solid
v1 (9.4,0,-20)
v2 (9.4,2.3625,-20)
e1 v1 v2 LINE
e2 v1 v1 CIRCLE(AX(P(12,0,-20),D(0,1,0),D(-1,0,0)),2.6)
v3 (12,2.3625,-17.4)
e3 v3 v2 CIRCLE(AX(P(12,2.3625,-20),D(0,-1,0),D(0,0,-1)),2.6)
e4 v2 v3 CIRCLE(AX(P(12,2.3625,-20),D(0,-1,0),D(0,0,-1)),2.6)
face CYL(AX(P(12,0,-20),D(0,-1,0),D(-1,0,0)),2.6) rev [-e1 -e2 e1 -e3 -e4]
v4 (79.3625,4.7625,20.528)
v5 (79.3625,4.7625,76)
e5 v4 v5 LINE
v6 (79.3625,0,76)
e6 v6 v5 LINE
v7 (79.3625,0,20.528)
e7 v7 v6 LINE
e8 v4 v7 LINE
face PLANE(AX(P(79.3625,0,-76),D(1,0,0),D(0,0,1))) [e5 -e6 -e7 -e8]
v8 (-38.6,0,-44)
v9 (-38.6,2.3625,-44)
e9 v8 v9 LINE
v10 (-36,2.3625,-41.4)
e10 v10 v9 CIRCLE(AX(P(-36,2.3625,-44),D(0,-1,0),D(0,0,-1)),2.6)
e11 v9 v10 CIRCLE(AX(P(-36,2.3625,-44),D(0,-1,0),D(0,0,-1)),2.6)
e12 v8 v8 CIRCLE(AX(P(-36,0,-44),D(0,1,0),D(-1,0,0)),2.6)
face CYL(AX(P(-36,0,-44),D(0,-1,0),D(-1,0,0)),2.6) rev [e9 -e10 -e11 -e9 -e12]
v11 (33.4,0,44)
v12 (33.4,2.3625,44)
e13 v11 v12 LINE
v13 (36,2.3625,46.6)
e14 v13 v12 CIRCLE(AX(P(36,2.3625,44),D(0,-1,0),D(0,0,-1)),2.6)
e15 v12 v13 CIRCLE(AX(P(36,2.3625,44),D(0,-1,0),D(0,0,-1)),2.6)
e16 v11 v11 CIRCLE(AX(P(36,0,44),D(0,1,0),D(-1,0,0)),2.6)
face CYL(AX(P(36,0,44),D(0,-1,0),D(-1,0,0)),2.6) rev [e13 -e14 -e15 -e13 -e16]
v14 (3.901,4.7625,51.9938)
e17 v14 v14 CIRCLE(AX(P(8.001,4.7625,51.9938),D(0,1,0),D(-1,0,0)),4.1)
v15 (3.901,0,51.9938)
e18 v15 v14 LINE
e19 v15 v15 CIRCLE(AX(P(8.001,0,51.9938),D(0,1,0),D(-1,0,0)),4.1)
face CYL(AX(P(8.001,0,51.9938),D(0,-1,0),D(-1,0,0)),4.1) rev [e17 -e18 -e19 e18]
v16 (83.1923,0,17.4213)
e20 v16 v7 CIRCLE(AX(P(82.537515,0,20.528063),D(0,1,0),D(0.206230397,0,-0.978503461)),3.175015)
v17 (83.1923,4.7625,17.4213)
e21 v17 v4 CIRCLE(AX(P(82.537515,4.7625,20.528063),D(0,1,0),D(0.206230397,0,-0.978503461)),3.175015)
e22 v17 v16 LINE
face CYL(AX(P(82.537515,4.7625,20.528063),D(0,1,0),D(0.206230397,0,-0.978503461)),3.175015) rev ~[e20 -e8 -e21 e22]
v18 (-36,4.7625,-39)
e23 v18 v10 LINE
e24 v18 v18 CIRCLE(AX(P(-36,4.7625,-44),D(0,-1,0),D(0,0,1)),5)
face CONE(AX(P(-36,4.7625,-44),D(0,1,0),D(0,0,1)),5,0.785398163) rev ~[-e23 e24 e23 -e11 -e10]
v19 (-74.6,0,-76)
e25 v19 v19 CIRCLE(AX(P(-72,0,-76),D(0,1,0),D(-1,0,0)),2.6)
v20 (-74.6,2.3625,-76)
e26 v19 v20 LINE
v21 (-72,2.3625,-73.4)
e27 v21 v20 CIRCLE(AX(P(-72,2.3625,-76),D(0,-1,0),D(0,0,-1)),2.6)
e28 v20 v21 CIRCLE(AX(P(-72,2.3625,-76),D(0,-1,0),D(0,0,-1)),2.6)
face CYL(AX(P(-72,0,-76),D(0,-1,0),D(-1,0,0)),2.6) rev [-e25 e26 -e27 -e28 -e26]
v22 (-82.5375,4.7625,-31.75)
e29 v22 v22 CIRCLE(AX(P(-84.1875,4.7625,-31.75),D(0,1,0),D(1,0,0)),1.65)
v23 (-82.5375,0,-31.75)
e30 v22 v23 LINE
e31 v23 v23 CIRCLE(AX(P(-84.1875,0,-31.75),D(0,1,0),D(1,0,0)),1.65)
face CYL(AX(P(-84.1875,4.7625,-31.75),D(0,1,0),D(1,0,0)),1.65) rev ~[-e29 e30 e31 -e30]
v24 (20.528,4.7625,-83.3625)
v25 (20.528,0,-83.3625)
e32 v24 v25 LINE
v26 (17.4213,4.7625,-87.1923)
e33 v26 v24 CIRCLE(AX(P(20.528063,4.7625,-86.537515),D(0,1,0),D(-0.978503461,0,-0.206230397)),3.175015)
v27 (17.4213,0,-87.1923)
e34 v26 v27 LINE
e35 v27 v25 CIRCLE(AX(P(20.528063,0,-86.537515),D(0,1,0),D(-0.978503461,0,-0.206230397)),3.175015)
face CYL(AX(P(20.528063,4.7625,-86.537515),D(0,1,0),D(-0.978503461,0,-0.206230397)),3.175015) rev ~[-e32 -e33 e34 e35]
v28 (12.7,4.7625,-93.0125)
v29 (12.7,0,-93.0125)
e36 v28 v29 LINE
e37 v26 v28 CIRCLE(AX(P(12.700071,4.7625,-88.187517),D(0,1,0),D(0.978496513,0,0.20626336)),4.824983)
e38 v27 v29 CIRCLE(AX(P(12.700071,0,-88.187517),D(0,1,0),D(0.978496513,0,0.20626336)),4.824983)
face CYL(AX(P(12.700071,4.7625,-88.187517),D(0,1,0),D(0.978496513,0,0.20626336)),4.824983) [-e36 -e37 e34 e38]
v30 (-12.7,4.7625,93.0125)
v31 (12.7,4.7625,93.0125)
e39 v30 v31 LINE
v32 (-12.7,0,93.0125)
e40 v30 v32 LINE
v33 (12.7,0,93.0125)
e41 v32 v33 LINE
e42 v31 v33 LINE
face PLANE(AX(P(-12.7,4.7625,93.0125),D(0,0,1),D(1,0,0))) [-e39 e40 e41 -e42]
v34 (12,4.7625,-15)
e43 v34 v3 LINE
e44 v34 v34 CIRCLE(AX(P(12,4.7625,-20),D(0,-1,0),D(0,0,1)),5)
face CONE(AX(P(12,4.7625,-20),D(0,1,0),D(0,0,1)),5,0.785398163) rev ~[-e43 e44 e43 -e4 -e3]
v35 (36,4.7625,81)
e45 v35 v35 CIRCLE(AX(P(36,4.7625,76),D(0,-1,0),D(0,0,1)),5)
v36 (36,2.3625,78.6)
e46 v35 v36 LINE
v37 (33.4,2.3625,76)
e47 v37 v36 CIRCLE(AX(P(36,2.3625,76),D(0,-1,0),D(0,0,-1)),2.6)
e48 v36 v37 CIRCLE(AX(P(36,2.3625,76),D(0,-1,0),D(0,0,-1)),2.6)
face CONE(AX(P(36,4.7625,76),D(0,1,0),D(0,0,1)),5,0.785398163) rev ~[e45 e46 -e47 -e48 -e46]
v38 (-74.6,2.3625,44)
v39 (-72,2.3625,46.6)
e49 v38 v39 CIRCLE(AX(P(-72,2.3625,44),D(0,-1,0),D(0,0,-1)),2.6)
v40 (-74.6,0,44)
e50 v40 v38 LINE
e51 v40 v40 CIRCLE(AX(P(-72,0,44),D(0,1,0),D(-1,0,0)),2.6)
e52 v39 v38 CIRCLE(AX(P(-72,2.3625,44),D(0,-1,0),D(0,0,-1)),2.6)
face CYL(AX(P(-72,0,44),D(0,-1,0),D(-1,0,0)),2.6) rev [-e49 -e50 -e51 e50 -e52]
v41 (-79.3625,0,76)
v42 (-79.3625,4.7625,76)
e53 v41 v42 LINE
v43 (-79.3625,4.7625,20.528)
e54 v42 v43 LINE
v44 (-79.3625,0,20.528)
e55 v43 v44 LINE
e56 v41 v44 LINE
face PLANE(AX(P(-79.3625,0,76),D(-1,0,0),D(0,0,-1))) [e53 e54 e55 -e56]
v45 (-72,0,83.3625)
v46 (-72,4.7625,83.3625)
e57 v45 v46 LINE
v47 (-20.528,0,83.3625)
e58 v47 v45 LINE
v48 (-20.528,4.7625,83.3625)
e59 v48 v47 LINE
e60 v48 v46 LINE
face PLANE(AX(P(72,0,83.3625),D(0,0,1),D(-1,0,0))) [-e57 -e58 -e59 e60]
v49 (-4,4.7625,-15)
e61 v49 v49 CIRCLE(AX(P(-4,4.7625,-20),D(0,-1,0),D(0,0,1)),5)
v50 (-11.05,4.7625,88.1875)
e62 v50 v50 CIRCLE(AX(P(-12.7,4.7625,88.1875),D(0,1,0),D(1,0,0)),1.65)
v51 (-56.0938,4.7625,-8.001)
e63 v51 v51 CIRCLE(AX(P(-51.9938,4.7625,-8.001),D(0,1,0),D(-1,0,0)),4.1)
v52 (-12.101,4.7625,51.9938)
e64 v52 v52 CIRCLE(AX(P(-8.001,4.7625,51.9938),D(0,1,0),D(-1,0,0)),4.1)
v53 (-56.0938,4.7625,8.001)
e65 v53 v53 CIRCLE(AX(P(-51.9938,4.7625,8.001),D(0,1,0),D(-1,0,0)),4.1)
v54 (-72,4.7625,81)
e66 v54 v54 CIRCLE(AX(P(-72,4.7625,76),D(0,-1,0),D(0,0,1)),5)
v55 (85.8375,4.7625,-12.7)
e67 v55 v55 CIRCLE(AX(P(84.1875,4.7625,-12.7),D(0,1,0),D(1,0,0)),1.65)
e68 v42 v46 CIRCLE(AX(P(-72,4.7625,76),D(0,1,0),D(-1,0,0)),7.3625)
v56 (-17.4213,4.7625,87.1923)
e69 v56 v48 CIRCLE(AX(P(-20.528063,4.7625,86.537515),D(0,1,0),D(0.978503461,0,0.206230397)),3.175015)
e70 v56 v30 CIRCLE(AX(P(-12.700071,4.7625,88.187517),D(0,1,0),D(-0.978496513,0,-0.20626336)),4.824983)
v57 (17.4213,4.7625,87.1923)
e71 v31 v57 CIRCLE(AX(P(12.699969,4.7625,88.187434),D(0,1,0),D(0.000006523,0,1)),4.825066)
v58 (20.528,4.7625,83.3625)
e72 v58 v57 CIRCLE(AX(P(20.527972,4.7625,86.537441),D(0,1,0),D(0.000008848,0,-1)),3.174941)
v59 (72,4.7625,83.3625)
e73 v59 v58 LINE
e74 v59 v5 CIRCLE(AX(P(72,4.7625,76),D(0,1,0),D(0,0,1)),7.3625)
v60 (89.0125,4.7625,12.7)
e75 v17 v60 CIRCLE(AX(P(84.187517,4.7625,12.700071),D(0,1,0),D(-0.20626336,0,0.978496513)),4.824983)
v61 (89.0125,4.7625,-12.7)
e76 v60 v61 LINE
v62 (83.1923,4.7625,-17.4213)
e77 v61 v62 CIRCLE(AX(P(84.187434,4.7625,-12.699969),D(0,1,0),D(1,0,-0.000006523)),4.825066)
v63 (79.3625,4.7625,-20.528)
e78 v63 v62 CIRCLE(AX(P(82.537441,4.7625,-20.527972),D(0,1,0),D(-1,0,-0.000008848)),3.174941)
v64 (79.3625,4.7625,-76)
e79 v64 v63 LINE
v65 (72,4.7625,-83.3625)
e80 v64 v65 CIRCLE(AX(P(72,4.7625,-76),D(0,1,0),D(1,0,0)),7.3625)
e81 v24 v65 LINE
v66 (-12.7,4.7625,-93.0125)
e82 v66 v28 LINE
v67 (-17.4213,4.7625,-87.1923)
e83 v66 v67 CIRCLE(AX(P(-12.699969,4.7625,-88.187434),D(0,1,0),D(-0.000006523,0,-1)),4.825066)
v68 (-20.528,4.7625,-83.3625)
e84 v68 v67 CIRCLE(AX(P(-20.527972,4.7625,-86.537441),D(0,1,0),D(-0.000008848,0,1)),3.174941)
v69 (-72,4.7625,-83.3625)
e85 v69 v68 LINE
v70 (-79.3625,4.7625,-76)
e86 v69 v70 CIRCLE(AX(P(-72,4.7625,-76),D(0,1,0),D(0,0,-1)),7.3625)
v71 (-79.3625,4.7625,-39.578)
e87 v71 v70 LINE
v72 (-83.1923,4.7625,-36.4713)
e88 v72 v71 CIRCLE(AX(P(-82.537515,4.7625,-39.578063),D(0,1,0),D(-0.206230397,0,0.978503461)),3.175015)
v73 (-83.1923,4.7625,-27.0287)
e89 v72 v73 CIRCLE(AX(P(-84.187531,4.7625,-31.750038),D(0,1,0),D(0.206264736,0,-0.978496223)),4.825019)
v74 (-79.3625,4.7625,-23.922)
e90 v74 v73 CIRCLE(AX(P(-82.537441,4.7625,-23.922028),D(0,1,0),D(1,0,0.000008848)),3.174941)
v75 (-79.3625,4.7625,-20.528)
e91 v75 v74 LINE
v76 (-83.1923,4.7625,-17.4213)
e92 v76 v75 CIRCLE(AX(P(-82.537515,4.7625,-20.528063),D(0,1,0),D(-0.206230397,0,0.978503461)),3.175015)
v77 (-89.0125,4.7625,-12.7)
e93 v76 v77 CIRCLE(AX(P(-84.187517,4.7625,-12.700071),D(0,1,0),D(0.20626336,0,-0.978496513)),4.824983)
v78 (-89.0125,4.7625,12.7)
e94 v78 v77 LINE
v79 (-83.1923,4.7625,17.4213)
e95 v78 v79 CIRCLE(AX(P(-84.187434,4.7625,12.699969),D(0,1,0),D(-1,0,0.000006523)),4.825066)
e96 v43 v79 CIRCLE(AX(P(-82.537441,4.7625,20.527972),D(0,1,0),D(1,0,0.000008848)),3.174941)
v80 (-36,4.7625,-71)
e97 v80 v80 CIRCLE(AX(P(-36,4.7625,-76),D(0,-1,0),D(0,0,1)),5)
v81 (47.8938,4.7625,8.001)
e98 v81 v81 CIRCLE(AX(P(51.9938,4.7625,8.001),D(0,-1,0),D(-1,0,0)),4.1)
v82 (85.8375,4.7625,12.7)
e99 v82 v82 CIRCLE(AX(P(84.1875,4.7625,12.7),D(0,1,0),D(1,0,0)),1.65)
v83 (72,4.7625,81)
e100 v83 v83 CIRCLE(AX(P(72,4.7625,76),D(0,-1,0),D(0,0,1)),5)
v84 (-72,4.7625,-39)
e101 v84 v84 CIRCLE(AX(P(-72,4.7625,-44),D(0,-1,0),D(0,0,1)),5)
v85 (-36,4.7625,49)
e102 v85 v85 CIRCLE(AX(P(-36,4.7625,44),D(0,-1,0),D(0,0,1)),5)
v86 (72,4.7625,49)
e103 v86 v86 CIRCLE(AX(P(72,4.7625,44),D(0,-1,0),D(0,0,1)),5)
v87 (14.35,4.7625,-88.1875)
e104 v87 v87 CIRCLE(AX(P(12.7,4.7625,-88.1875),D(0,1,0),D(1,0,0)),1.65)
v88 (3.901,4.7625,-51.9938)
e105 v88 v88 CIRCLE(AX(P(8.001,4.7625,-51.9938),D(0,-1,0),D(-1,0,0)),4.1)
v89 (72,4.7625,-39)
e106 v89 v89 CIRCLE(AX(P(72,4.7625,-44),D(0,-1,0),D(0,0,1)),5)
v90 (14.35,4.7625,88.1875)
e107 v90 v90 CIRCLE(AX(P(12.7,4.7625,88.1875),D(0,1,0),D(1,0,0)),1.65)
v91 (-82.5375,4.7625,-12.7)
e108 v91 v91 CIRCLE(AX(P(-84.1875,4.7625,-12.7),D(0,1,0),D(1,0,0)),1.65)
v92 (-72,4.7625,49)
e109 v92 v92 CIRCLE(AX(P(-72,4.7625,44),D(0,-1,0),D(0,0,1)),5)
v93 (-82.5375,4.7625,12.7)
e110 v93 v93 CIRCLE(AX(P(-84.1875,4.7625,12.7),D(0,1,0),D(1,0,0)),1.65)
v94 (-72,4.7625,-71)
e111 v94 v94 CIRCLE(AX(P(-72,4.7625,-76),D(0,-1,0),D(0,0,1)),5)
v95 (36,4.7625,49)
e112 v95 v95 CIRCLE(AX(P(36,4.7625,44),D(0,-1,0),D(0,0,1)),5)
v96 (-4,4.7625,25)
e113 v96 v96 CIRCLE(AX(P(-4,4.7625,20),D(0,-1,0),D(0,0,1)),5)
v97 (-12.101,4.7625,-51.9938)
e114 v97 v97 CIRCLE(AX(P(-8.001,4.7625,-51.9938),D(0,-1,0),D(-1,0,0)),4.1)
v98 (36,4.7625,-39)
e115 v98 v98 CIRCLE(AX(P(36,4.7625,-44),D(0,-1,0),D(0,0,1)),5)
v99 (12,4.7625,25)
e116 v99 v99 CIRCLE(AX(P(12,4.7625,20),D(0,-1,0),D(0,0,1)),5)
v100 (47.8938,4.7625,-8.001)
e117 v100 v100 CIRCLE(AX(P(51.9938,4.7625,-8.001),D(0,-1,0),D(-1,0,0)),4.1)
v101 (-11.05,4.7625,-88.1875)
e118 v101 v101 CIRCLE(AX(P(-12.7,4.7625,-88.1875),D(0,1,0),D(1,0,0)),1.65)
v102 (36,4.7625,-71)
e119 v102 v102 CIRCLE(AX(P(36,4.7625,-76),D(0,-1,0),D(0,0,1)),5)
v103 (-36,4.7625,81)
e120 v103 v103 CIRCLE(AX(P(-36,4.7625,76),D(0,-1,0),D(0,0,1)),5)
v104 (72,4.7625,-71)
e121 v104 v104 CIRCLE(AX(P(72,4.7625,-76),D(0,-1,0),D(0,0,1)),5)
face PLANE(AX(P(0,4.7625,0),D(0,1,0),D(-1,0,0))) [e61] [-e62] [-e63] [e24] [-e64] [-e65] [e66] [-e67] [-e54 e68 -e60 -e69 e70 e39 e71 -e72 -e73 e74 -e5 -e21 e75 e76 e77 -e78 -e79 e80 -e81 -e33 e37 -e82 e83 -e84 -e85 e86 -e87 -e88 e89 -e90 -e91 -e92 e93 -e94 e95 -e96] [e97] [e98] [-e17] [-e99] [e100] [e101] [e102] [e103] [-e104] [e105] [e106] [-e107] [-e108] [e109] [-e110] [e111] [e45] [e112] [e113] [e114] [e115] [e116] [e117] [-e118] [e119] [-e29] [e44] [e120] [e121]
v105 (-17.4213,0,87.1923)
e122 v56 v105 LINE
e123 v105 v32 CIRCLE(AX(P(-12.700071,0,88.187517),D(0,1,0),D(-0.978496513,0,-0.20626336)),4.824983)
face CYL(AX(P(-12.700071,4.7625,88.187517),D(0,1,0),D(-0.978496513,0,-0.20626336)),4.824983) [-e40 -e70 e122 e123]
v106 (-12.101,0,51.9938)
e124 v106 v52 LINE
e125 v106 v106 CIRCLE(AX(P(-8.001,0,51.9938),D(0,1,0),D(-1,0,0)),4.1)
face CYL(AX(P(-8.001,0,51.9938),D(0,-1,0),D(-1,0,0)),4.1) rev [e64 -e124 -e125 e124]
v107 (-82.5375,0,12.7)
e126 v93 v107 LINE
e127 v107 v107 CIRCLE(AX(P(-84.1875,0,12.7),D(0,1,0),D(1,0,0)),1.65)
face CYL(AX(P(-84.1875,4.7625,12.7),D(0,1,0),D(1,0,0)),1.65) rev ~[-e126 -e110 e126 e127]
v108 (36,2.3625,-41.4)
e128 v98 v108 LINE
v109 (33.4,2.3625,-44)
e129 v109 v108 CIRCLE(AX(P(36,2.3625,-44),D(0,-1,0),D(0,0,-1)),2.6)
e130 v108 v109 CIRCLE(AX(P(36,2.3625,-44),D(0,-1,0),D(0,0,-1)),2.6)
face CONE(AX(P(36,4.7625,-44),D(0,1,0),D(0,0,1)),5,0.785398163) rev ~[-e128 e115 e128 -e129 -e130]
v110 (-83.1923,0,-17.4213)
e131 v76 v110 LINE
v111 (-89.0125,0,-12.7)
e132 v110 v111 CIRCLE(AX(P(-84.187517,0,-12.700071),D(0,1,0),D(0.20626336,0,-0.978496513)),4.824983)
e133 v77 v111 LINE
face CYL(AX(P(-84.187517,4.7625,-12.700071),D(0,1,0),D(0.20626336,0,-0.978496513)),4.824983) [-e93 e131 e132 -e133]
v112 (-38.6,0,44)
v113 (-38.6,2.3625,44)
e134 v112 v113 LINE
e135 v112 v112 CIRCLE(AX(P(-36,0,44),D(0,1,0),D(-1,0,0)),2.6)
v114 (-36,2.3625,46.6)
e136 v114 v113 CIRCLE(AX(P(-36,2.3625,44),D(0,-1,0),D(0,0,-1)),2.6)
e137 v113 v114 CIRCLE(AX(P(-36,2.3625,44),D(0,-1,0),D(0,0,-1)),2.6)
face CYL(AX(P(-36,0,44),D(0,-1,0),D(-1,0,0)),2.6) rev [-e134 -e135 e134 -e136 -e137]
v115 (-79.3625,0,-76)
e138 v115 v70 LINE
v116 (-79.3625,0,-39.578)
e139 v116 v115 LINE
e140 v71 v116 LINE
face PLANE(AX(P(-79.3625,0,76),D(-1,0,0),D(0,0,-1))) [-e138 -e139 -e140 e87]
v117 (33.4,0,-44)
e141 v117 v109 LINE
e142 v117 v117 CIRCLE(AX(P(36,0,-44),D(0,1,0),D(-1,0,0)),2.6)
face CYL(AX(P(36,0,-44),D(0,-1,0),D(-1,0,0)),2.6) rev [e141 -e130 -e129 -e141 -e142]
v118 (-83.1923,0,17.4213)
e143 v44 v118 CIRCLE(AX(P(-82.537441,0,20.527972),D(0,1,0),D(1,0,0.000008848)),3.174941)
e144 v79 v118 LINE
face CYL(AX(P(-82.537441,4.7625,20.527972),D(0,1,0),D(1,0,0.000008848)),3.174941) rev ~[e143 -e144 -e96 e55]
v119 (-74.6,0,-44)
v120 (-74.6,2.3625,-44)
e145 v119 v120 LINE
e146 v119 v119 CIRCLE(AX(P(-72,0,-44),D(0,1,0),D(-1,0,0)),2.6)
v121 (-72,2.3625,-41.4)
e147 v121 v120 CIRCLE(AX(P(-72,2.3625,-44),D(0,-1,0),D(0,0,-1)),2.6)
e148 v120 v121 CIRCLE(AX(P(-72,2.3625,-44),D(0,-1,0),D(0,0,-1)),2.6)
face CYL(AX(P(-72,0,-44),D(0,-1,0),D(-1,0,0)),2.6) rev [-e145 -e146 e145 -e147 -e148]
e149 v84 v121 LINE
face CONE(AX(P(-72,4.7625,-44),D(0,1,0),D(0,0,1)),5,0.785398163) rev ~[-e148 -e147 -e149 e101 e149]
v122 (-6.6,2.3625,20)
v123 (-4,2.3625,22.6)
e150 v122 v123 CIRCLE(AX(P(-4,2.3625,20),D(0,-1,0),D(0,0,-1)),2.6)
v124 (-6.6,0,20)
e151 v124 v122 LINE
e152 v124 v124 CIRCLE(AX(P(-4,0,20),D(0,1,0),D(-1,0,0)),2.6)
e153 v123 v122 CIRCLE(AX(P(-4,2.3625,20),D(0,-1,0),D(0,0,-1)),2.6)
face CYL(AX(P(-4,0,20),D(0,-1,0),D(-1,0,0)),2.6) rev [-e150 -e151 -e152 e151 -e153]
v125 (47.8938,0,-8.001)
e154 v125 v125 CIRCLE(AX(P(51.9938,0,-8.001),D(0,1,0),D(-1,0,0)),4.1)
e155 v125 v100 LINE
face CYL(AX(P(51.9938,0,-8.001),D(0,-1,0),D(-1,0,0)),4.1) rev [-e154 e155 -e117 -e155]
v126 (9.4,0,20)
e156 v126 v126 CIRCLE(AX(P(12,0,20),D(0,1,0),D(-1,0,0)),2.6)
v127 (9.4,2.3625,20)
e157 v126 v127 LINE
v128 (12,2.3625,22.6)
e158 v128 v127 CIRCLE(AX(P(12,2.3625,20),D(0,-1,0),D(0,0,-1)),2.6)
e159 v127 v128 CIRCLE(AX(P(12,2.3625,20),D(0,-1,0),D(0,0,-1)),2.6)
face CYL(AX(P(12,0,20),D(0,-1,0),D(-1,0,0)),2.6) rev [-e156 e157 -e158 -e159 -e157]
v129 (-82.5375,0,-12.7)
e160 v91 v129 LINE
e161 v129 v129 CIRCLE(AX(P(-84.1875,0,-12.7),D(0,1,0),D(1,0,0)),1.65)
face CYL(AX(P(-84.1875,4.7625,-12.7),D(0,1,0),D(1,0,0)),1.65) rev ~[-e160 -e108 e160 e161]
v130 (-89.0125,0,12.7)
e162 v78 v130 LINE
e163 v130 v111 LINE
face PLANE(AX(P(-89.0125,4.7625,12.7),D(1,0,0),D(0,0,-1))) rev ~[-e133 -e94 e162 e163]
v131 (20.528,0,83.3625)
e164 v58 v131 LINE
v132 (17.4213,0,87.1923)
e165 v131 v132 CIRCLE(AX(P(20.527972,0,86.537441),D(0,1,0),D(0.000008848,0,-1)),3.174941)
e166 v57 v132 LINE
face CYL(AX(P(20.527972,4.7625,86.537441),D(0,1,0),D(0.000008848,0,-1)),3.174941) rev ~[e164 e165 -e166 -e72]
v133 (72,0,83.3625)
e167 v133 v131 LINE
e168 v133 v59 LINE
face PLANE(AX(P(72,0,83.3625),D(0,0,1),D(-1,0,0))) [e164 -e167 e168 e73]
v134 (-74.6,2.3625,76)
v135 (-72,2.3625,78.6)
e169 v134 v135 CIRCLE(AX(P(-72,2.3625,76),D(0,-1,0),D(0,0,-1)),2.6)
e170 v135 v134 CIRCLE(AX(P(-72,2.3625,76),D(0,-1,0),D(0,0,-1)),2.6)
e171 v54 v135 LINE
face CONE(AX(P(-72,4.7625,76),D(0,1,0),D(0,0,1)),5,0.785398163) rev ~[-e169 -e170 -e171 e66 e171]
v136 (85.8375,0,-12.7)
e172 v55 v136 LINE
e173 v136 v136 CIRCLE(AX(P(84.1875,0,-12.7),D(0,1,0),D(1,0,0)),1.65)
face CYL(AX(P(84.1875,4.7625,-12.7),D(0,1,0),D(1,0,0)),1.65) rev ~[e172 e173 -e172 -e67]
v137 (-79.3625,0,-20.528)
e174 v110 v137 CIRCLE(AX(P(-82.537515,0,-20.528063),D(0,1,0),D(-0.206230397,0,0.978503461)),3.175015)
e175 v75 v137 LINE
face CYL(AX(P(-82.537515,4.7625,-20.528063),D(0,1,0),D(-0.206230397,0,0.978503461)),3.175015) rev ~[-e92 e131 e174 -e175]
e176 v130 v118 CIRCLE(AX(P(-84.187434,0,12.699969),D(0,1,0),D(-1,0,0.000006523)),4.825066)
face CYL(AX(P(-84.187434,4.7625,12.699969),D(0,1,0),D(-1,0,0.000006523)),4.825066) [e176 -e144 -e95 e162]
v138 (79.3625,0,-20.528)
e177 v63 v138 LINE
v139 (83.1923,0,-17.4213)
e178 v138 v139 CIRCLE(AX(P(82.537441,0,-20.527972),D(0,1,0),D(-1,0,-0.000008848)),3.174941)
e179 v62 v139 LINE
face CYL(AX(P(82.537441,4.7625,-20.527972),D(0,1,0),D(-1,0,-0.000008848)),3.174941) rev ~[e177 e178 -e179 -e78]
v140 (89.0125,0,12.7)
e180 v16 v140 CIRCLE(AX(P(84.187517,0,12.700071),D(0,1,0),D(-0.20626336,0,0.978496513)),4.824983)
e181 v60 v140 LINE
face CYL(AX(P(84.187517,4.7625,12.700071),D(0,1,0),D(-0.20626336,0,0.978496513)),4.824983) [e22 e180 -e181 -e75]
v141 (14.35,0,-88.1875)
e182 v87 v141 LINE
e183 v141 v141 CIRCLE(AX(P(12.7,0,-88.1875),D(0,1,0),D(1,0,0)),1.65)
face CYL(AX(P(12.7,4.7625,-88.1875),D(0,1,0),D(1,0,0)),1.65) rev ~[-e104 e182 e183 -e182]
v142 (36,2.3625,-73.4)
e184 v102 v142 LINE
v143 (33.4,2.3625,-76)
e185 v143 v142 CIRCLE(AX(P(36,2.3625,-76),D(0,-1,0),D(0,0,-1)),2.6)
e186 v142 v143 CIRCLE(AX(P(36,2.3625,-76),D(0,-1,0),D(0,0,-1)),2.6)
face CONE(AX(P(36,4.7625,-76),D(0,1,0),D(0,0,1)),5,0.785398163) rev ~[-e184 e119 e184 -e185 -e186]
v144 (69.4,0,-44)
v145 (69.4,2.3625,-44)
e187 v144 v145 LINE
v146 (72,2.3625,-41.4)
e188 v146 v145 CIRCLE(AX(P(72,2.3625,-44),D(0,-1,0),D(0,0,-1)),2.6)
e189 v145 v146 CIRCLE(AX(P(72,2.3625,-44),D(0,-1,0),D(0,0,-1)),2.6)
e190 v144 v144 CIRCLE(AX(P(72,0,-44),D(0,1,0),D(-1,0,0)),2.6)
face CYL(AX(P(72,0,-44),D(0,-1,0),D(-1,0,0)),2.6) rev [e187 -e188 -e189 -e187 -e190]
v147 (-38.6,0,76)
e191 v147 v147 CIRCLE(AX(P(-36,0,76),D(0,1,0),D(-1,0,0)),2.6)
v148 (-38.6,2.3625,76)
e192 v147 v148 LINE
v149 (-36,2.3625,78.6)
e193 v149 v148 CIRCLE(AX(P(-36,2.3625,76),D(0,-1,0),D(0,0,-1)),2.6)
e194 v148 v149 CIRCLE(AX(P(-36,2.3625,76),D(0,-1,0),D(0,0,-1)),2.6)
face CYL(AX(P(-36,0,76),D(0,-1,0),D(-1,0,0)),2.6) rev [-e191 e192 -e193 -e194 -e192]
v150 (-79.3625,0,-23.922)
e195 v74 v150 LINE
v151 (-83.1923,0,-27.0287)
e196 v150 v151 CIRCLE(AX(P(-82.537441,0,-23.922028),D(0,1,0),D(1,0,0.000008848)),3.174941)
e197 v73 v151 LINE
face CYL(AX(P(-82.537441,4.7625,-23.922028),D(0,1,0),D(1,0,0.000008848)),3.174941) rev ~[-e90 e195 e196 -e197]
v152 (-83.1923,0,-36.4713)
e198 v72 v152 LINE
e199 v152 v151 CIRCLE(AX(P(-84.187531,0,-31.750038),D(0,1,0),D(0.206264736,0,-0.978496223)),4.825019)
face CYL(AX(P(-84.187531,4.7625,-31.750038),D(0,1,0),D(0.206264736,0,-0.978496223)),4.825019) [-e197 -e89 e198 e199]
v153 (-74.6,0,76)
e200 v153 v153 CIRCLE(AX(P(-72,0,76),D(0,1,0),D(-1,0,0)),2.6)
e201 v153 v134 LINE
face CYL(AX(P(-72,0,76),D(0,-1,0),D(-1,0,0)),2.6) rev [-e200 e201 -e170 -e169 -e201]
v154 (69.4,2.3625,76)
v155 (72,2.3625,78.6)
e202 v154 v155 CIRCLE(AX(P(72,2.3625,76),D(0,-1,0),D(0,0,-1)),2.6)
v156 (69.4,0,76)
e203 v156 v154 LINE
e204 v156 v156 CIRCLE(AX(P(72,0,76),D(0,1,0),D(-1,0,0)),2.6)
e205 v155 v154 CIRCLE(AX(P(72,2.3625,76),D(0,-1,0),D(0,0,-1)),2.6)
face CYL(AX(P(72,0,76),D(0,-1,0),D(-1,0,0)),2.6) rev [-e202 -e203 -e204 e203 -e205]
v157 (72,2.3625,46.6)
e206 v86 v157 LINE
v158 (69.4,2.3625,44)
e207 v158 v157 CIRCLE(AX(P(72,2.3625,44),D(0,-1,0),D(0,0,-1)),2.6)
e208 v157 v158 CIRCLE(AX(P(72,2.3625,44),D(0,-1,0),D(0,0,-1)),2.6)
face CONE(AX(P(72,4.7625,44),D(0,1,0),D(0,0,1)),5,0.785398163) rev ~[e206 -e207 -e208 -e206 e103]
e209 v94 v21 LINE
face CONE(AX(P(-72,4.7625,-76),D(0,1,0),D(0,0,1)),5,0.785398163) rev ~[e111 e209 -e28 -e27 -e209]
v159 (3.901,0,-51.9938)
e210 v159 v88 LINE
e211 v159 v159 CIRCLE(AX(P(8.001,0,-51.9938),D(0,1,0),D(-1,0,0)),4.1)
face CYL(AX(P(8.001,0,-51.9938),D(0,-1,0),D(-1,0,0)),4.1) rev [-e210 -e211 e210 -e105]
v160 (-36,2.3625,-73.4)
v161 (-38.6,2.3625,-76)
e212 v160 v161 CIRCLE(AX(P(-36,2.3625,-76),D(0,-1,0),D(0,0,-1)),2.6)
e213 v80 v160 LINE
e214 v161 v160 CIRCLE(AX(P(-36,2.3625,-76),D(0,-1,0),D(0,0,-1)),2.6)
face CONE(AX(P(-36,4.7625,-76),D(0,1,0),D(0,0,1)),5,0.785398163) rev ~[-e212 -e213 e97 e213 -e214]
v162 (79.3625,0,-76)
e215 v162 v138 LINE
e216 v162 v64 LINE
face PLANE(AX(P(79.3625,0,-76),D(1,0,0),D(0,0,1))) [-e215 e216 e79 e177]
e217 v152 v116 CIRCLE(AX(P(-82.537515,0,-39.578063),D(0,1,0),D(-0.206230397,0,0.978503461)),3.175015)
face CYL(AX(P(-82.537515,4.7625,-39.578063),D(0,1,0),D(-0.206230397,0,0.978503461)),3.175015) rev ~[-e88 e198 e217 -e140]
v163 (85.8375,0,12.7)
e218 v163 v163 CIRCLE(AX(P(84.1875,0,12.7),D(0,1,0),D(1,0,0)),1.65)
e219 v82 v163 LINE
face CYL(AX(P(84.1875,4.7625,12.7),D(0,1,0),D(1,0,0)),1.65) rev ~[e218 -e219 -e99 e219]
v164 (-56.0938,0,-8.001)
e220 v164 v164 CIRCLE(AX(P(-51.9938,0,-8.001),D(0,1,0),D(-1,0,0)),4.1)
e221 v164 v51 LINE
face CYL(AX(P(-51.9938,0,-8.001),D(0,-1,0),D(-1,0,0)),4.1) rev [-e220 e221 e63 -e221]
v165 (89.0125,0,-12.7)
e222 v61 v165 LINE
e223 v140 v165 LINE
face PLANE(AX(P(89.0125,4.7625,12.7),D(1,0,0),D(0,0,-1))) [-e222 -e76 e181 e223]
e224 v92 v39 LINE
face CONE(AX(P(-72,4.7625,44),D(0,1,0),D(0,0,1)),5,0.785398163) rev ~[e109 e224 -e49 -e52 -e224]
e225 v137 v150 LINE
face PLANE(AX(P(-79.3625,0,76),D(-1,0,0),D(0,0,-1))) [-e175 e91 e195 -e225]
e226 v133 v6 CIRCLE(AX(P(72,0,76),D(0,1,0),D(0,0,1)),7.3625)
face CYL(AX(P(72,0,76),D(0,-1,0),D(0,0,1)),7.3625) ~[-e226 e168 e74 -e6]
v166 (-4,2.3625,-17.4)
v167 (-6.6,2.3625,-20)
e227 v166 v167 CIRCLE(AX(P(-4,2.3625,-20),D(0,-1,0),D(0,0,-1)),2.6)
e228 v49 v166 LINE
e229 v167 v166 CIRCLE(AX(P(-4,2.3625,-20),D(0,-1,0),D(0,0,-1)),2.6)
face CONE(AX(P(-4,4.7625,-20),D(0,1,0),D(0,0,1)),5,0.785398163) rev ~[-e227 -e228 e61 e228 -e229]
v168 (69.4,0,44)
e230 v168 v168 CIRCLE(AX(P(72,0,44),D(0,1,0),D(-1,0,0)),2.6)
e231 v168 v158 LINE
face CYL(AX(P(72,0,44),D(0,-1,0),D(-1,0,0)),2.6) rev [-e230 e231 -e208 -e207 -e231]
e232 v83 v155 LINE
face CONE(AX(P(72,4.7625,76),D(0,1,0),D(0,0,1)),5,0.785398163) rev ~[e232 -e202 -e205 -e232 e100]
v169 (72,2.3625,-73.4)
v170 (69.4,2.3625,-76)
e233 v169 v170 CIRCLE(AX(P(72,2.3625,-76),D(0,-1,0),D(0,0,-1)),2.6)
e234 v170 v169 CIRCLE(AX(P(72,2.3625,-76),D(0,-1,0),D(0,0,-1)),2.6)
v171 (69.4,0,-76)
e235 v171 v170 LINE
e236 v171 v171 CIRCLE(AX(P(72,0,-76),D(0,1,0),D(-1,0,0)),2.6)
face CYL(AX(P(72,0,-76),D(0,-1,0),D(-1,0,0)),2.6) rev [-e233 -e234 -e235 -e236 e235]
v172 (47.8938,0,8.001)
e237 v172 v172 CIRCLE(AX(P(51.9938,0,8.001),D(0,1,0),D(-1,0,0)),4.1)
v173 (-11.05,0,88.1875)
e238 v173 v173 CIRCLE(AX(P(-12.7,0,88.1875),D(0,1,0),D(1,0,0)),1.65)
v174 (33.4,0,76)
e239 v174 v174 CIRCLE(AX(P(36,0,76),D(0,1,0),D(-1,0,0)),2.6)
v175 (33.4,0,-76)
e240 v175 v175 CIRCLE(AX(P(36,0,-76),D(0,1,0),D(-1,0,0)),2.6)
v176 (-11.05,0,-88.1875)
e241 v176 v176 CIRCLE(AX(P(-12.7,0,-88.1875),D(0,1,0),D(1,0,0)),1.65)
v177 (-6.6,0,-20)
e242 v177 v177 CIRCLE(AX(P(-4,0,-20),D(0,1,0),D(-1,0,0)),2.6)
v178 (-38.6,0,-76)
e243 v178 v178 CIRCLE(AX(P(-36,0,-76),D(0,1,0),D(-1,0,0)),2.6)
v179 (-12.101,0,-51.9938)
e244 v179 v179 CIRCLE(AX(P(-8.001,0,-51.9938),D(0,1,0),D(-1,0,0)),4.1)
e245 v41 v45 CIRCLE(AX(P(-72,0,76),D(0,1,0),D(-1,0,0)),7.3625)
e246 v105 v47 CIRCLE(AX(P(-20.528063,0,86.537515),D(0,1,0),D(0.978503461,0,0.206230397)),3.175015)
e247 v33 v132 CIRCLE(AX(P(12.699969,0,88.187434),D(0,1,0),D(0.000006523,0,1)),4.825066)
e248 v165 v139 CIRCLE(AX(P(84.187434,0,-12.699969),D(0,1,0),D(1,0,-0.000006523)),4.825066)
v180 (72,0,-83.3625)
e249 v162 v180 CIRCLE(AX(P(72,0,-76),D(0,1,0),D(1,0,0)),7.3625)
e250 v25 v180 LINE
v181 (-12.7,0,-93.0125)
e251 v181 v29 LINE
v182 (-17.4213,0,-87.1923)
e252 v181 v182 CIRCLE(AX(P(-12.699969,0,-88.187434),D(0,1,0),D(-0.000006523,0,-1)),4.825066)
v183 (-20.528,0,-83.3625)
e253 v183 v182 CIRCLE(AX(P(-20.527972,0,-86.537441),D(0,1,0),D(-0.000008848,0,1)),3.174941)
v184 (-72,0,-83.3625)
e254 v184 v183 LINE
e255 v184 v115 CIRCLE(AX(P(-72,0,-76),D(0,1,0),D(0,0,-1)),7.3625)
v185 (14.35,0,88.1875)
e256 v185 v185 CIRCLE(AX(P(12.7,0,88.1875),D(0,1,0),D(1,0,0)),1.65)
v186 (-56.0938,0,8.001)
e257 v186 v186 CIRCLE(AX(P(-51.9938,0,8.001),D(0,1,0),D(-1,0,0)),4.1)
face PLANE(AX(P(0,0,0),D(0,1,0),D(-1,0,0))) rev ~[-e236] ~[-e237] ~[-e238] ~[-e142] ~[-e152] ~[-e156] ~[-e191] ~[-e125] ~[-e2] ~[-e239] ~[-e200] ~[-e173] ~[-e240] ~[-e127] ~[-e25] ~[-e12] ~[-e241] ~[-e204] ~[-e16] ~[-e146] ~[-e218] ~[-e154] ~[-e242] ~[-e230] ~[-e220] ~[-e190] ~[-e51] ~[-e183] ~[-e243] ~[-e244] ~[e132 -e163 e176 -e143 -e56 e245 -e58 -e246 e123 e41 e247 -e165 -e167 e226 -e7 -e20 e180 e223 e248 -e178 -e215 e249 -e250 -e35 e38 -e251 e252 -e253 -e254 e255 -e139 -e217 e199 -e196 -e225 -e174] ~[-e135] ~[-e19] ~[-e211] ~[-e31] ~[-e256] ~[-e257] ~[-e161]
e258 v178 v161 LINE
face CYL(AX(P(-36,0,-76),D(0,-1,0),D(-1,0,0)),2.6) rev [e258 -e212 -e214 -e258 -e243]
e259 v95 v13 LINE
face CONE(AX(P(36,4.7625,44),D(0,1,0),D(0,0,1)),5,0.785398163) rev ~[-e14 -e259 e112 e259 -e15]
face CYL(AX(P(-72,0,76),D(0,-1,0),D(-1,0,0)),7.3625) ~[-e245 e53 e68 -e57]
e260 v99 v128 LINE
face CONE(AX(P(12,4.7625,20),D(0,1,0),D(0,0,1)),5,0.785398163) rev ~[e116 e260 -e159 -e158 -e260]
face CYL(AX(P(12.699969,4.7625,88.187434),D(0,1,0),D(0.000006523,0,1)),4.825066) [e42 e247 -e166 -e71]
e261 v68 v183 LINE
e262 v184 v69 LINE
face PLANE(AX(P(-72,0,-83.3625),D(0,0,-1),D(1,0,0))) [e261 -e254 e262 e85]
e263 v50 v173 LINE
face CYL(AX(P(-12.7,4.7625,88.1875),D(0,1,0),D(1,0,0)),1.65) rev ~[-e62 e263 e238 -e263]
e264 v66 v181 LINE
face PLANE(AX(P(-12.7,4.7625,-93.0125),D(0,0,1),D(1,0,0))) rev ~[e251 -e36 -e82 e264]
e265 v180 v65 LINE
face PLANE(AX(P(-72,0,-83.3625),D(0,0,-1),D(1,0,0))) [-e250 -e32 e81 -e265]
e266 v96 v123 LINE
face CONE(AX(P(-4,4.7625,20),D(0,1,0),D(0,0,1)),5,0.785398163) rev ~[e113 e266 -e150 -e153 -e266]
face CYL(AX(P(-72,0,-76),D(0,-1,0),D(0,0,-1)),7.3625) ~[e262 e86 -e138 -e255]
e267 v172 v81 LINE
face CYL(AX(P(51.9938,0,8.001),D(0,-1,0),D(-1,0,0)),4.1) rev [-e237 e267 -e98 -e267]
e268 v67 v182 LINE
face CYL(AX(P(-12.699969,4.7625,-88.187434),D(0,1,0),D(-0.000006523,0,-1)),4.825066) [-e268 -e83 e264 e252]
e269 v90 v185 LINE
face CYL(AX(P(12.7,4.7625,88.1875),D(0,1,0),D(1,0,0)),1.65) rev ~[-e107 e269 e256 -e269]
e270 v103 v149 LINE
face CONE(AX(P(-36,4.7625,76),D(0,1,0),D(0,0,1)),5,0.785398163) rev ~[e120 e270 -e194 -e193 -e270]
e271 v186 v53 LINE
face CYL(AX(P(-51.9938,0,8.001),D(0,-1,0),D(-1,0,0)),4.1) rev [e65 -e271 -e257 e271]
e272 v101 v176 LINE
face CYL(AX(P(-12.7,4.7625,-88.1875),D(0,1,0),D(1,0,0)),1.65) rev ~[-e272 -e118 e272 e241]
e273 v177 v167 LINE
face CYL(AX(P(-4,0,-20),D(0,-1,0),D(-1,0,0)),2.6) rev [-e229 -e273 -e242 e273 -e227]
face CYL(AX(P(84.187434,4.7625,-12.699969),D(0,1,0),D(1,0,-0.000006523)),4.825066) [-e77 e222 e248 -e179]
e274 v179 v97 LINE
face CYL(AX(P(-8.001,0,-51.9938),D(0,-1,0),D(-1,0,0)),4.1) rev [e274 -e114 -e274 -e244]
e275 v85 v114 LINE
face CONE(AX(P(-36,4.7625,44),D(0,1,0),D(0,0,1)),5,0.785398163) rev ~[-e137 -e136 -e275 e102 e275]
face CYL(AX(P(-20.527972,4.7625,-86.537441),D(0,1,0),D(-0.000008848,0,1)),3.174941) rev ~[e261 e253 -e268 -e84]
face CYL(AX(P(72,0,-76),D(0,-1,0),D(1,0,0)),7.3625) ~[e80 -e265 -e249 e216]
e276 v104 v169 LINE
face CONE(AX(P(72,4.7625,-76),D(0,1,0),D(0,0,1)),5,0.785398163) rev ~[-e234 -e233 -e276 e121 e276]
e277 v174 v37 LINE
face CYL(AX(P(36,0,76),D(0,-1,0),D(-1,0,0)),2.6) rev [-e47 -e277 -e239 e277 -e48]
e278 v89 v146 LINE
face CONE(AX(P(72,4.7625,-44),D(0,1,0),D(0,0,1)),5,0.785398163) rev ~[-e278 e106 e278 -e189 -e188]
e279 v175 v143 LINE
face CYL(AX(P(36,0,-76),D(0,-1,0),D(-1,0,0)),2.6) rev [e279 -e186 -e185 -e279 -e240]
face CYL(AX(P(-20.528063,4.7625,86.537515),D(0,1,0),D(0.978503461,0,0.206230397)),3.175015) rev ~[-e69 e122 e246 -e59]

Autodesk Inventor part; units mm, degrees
ref_plane "YZ Plane" through (0, 0, 0) normal (1, 0, 0) x (0, 1, 0)
ref_plane "XZ Plane" through (0, 0, 0) normal (0, 1, 0) x (-1, 0, 0)
ref_plane "XY Plane" through (0, 0, 0) normal (0, 0, 1) x (1, 0, 0)
sketch "Sketch1" plane through (0, 0, 0) normal (0, 1, 0) x (-1, 0, 0)
  line L0 (-20, 26) -> (20, 26) construction
  line L1 (20, 26) -> (20, -26) construction
  line L2 (20, -26) -> (-20, -26) construction
  line L3 (-20, -26) -> (-20, 26) construction
  line L4 (-20, 26) -> (20, -26) construction
  line L5 (20, 26) -> (-20, -26) construction
  circle A0 centre (4, 20) radius 2.6
  circle A1 centre (-12, 20) radius 2.6
  circle A2 centre (4, -20) radius 2.6
  circle A3 centre (-12, -20) radius 2.6
  circle A4 centre (36, 44) radius 2.6
  circle A5 centre (36, 76) radius 2.6
  circle A6 centre (72, 76) radius 2.6
  circle A7 centre (72, 44) radius 2.6
  circle A8 centre (36, -44) radius 2.6
  circle A9 centre (72, -44) radius 2.6
  circle A10 centre (72, -76) radius 2.6
  circle A11 centre (36, -76) radius 2.6
  circle A12 centre (-36, 44) radius 2.6
  circle A13 centre (-36, 76) radius 2.6
  circle A14 centre (-72, 76) radius 2.6
  circle A15 centre (-72, 44) radius 2.6
  circle A16 centre (-36, -44) radius 2.6
  circle A17 centre (-36, -76) radius 2.6
  circle A18 centre (-72, -44) radius 2.6
  circle A19 centre (-72, -76) radius 2.6
  circle A20 centre (51.9938, 8.001) radius 4.1
  circle A21 centre (51.9938, -8.001) radius 4.1
  line L6 (0, -26) -> (0, 26) construction
  line L7 (20, 0) -> (-20, 0) construction
  circle A22 centre (8.001, 51.9938) radius 4.1
  circle A23 centre (-8.001, 51.9938) radius 4.1
  circle A24 centre (72, 76) radius 7.3625 construction
  circle A25 centre (72, -76) radius 7.3625 construction
  circle A26 centre (-72, -76) radius 7.3625 construction
  circle A27 centre (-72, 76) radius 7.3625 construction
  line L8 (79.3625, 76) -> (79.3625, -76)
  line L9 (72, -83.3625) -> (-72, -83.3625)
  line L10 (-79.3625, -76) -> (-79.3625, 76)
  line L11 (-72, 83.3625) -> (72, 83.3625)
  arc A28 (72, -83.3625) -> (79.3625, -76) centre (72, -76) ccw
  arc A29 (-79.3625, -76) -> (-72, -83.3625) centre (-72, -76) ccw
  arc A30 (-72, 83.3625) -> (-79.3625, 76) centre (-72, 76) ccw
  arc A31 (79.3625, 76) -> (72, 83.3625) centre (72, 76) ccw
  circle A32 centre (8.001, -51.9938) radius 4.1
  circle A33 centre (-8.001, -51.9938) radius 4.1
  circle A34 centre (-51.9938, 8.001) radius 4.1
  circle A35 centre (-51.9938, -8.001) radius 4.1
  point P0 (0, 0)
  point P1 (0, 0)
  point P2 (0, 0)
  point P3 (0, 0)
  dimension "d0" = 40
  dimension "d1" = 52
  dimension "d2" = 5.2
  dimension "d3" = 6
  dimension "d4" = 6
  dimension "d5" = 8
  dimension "d6" = 16
  dimension "d8" = 24
  dimension "d9" = 32
  dimension "d10" = 32
  dimension "d11" = 36
  dimension "d12" = 32
  dimension "d13" = 24
  dimension "d14" = 36
  dimension "d15" = 24
  dimension "d16" = 8.2
  dimension "d17" = 8.001
  dimension "d18" = 51.9938
  dimension "d19" = 8.001
  dimension "d20" = 8.001
  dimension "d21" = 8.001
  dimension "d22" = 51.9938
  dimension "d23" = 4.7625
  dimension "d27" = 51.9938
  dimension "d28" = 51.9938
extrude "Extrusion1" add sketch "Sketch1" along normal blind 4.7625 contours L8 A28 L9 A29 L10 A30 L11 A31 | A32 | A33 | A34 | A35
extrude "Extrusion2" cut sketch "Sketch1" along normal through all contours A32 | A33 | A34 | A35
sketch "Sketch2" plane through (0, 4.7625, 0) normal (0, 1, 0) x (1, 0, 0)
  circle A0 centre (51.9938, 8.001) radius 4.1 projected
  circle A1 centre (8.001, 51.9938) radius 4.1 projected
  circle A2 centre (51.9938, -8.001) radius 4.1 projected
  circle A3 centre (-8.001, 51.9938) radius 4.1 projected
  line L0 (79.3625, -76) -> (79.3625, 76) projected
  arc A4 (79.3625, 76) -> (72, 83.3625) centre (72, 76) ccw projected
  line L1 (72, 83.3625) -> (-72, 83.3625) projected
  arc A5 (-72, 83.3625) -> (-79.3625, 76) centre (-72, 76) ccw projected
  line L2 (-79.3625, 76) -> (-79.3625, -76) projected
  arc A6 (-79.3625, -76) -> (-72, -83.3625) centre (-72, -76) ccw projected
  line L3 (-72, -83.3625) -> (72, -83.3625) projected
  arc A7 (72, -83.3625) -> (79.3625, -76) centre (72, -76) ccw projected
  circle A8 centre (8.001, -51.9938) radius 4.1 projected
  circle A9 centre (-51.9938, 8.001) radius 4.1 projected
  circle A10 centre (72, 44) radius 2.6 projected
  circle A11 centre (36, 44) radius 2.6 projected
  circle A12 centre (36, -76) radius 2.6 projected
  circle A13 centre (-36, 76) radius 2.6 projected
  circle A14 centre (-36, 44) radius 2.6 projected
  circle A15 centre (-72, -44) radius 2.6 projected
  circle A16 centre (-36, -76) radius 2.6 projected
  circle A17 centre (-36, -44) radius 2.6 projected
  circle A18 centre (12, 20) radius 2.6 projected
  circle A19 centre (-4, 20) radius 2.6 projected
  circle A20 centre (12, -20) radius 2.6 projected
  circle A21 centre (-4, -20) radius 2.6 projected
  circle A22 centre (-72, 44) radius 2.6 projected
  circle A23 centre (36, -44) radius 2.6 projected
  circle A24 centre (72, -44) radius 2.6 projected
  circle A25 centre (36, 76) radius 2.6 projected
  circle A26 centre (-51.9938, -8.001) radius 4.1 projected
  circle A27 centre (-8.001, -51.9938) radius 4.1 projected
  circle A28 centre (72, 76) radius 2.6 projected
  circle A29 centre (72, -76) radius 2.6 projected
  circle A30 centre (-72, 76) radius 2.6 projected
  circle A31 centre (-72, -76) radius 2.6 projected
  point P0 (0, 0)
hole "Hole1" at (-72, 4.7625, 76) at (-72, 4.7625, 44) at (-36, 4.7625, 76) at (-36, 4.7625, 44) at (-4, 4.7625, 20) at (12, 4.7625, 20) at (-4, 4.7625, -20) at (12, 4.7625, -20) at (36, 4.7625, 44) at (36, 4.7625, 76) at (72, 4.7625, 76) at (72, 4.7625, 44) at (-72, 4.7625, -44) at (-72, 4.7625, -76) at (-36, 4.7625, -44) at (-36, 4.7625, -76) at (36, 4.7625, -76) at (36, 4.7625, -44) at (72, 4.7625, -44) at (72, 4.7625, -76) direction (0, -1, 0) diameter 4.019 end through all countersink diameter 10 countersink angle 90 thread size "M5" standard "Din Taper"
sketch "Sketch3" plane through (0, 4.7625, 0) normal (0, 1, 0) x (1, 0, 0)
  circle A0 centre (-12.7, -88.1875) radius 1.65
  line L0 (-72, -83.3625) -> (72, -83.3625) projected
  circle A1 centre (72, 76) radius 5 projected
  circle A2 centre (72, 44) radius 5 projected
  circle A3 centre (36, 44) radius 5 projected
  circle A4 centre (36, 76) radius 5 projected
  circle A5 centre (-36, 76) radius 5 projected
  circle A6 centre (-36, 44) radius 5 projected
  circle A7 centre (-72, 76) radius 5 projected
  circle A8 centre (-72, 44) radius 5 projected
  circle A9 centre (72, -44) radius 5 projected
  circle A10 centre (72, -76) radius 5 projected
  circle A11 centre (36, -76) radius 5 projected
  circle A12 centre (36, -44) radius 5 projected
  circle A13 centre (12, 20) radius 5 projected
  circle A14 centre (-4, 20) radius 5 projected
  circle A15 centre (12, -20) radius 5 projected
  circle A16 centre (-4, -20) radius 5 projected
  circle A17 centre (-36, -44) radius 5 projected
  circle A18 centre (-36, -76) radius 5 projected
  circle A19 centre (-72, -44) radius 5 projected
  circle A20 centre (-72, -76) radius 5 projected
  circle A21 centre (51.9938, 8.001) radius 4.1 projected
  circle A22 centre (8.001, 51.9938) radius 4.1 projected
  circle A23 centre (51.9938, -8.001) radius 4.1 projected
  circle A24 centre (-8.001, 51.9938) radius 4.1 projected
  line L1 (79.3625, -76) -> (79.3625, 76) projected
  arc A25 (79.3625, 76) -> (72, 83.3625) centre (72, 76) ccw projected
  line L2 (72, 83.3625) -> (-72, 83.3625) projected
  arc A26 (-72, 83.3625) -> (-79.3625, 76) centre (-72, 76) ccw projected
  line L3 (-79.3625, 76) -> (-79.3625, -76) projected
  arc A27 (-79.3625, -76) -> (-72, -83.3625) centre (-72, -76) ccw projected
  line L4 (-72, -83.3625) -> (72, -83.3625) projected
  arc A28 (72, -83.3625) -> (79.3625, -76) centre (72, -76) ccw projected
  circle A29 centre (8.001, -51.9938) radius 4.1 projected
  circle A30 centre (-51.9938, 8.001) radius 4.1 projected
  circle A31 centre (-51.9938, -8.001) radius 4.1 projected
  circle A32 centre (-8.001, -51.9938) radius 4.1 projected
  circle A33 centre (12.7, -88.1875) radius 1.65
  circle A34 centre (-12.7, -88.1875) radius 4.825 construction
  circle A35 centre (12.7, -88.1875) radius 4.825 construction
  circle A36 centre (-84.1875, -12.7) radius 1.65
  circle A37 centre (-84.1875, 12.7) radius 1.65
  circle A38 centre (-84.1875, -12.7) radius 4.825 construction
  circle A39 centre (-84.1875, 12.7) radius 4.825 construction
  circle A40 centre (84.1875, 12.7) radius 1.65
  circle A41 centre (84.1875, -12.7) radius 1.65
  circle A42 centre (84.1875, 12.7) radius 4.825 construction
  circle A43 centre (84.1875, -12.7) radius 4.825 construction
  circle A44 centre (-12.7, 88.1875) radius 4.825 construction
  circle A45 centre (12.7, 88.1875) radius 4.825 construction
  line L5 (72, 83.3625) -> (-72, 83.3625) construction
  circle A46 centre (-12.7, 88.1875) radius 1.65
  circle A47 centre (12.7, 88.1875) radius 1.65
  arc A48 (79.3625, 20.528) -> (83.1923, 17.4213) centre (82.5375, 20.528) ccw
  line L6 (79.3625, -76) -> (79.3625, 76) projected
  arc A49 (83.1923, -17.4213) -> (79.3625, -20.528) centre (82.5375, -20.528) ccw
  line L7 (89.0125, -12.7) -> (89.0125, 12.7)
  arc A50 (89.0125, 12.7) -> (83.1923, 17.4213) centre (84.1875, 12.7) ccw
  arc A51 (83.1923, -17.4213) -> (89.0125, -12.7) centre (84.1875, -12.7) ccw
  arc A52 (-20.528, 83.3625) -> (-17.4213, 87.1923) centre (-20.528, 86.5375) ccw
  arc A53 (17.4213, 87.1923) -> (20.528, 83.3625) centre (20.528, 86.5375) ccw
  line L8 (-12.7, 93.0125) -> (12.7, 93.0125)
  arc A54 (-12.7, 93.0125) -> (-17.4213, 87.1923) centre (-12.7, 88.1875) ccw
  arc A55 (17.4213, 87.1923) -> (12.7, 93.0125) centre (12.7, 88.1875) ccw
  arc A56 (-83.1923, 17.4213) -> (-79.3625, 20.528) centre (-82.5375, 20.528) ccw
  arc A57 (-79.3625, -20.528) -> (-83.1923, -17.4213) centre (-82.5375, -20.528) ccw
  line L9 (-89.0125, -12.7) -> (-89.0125, 12.7)
  arc A58 (-83.1923, 17.4213) -> (-89.0125, 12.7) centre (-84.1875, 12.7) ccw
  arc A59 (-89.0125, -12.7) -> (-83.1923, -17.4213) centre (-84.1875, -12.7) ccw
  arc A60 (-17.4213, -87.1923) -> (-20.528, -83.3625) centre (-20.528, -86.5375) ccw
  arc A61 (20.528, -83.3625) -> (17.4213, -87.1923) centre (20.528, -86.5375) ccw
  line L10 (-12.7, -93.0125) -> (12.7, -93.0125)
  arc A62 (-17.4213, -87.1923) -> (-12.7, -93.0125) centre (-12.7, -88.1875) ccw
  arc A63 (12.7, -93.0125) -> (17.4213, -87.1923) centre (12.7, -88.1875) ccw
  point P0 (0, 0)
  point P1 (-20.528, 83.3625)
  point P2 (20.528, -83.3625)
  point P3 (-20.528, -83.3625)
  dimension "d40" = 3.3
  dimension "d42" = 12.7
  dimension "d43" = 25.4
  dimension "d44" = 3.175
  dimension "d45" = 12.7
  dimension "d46" = 25.4
  dimension "d47" = 3.175
extrude "Extrusion3" add sketch "Sketch3" against normal up to surface (4.7625 mm away) contours L0 A61 A63 L10 A62 A60 | A57 A59 L9 A58 A56 L3 | L1 A48 A50 L7 A51 A49 | A52 A54 L8 A55 A53 L2
sketch "Sketch4" plane through (0, 4.7625, 0) normal (0, 1, 0) x (1, 0, 0)
  circle A0 centre (-72, -76) radius 2.6 projected
  circle A1 centre (-36, -76) radius 2.6 projected
  line L0 (-79.3625, -20.528) -> (-79.3625, -76) construction
  circle A2 centre (-84.1875, -12.7) radius 1.65 projected
  line L1 (-79.3625, -39.9296) -> (-79.3625, -23.5598)
  line L2 (-79.3625, -20.528) -> (-79.3625, -76) projected
  circle A3 centre (84.1875, -12.7) radius 1.65 projected
  circle A4 centre (-84.1875, 31.75) radius 1.65
  circle A5 centre (-84.1875, 12.7) radius 1.65 projected
  circle A6 centre (-84.1875, 31.75) radius 4.825 construction
  line L3 (-79.3625, 76) -> (-79.3625, 20.528) projected
  arc A7 (-83.1923, 36.4713) -> (-79.3625, 39.578) centre (-82.5375, 39.578) ccw
  arc A8 (-79.3625, 23.922) -> (-83.1923, 27.0287) centre (-82.5375, 23.922) ccw
  arc A9 (-83.1923, 36.4713) -> (-82.9884, 27.0764) centre (-84.1875, 31.75) ccw
  circle A10 centre (-57.15, 88.1875) radius 1.65 construction
  circle A11 centre (-12.7, 88.1875) radius 1.65 projected
  circle A12 centre (-57.15, 88.1875) radius 4.825 construction
  line L4 (-20.528, 83.3625) -> (-72, 83.3625) construction
  arc A13 (-52.4287, 87.1923) -> (-49.322, 83.3625) centre (-49.322, 86.5375) ccw construction
  arc A14 (-64.978, 83.3625) -> (-61.8713, 87.1923) centre (-64.978, 86.5375) ccw construction
  arc A15 (-52.4287, 87.1923) -> (-61.8713, 87.1923) centre (-57.15, 88.1875) ccw construction
  line L5 (-64.978, 83.3625) -> (-49.322, 83.3625) construction
  point P0 (0, 0)
  point P1 (-83.1923, 27.0287)
  dimension "d71" = 3.3
  dimension "d72" = 19.05
  dimension "d73" = 3.175
  dimension "d74" = 3.175
  dimension "d75" = 44.45
thread "Thread1" size "M4x0.7" class "6H" standard "ISO Metric profile" full length
thread "Thread2" size "M4x0.7" class "6H" standard "ISO Metric profile" full length
extrude "Extrusion6" add sketch "Sketch4" against normal up to surface (4.7625 mm away) contours L3 A8 A9 A7
thread "Thread3" size "M4x0.7" class "6H" standard "ISO Metric profile" full length
thread "Thread4" size "M4x0.7" class "6H" standard "ISO Metric profile" full length
equation "\"d4\" = d3"
equation "\"d12\" = d10"
equation "\"d13\" = d8"
equation "\"d14\" = d11"
equation "\"d17\" = d20"
equation "\"d19\" = d17"
equation "\"d21\" = d20"
equation "\"d22\" = d18"
equation "\"d27\" = d22"
equation "\"d28\" = d27"
equation "\"d45\" = d42"
equation "\"d46\" = d43"
properties part number "CNC-006-XAxisMount2" material "Steel AISI 1008 91 HR"
